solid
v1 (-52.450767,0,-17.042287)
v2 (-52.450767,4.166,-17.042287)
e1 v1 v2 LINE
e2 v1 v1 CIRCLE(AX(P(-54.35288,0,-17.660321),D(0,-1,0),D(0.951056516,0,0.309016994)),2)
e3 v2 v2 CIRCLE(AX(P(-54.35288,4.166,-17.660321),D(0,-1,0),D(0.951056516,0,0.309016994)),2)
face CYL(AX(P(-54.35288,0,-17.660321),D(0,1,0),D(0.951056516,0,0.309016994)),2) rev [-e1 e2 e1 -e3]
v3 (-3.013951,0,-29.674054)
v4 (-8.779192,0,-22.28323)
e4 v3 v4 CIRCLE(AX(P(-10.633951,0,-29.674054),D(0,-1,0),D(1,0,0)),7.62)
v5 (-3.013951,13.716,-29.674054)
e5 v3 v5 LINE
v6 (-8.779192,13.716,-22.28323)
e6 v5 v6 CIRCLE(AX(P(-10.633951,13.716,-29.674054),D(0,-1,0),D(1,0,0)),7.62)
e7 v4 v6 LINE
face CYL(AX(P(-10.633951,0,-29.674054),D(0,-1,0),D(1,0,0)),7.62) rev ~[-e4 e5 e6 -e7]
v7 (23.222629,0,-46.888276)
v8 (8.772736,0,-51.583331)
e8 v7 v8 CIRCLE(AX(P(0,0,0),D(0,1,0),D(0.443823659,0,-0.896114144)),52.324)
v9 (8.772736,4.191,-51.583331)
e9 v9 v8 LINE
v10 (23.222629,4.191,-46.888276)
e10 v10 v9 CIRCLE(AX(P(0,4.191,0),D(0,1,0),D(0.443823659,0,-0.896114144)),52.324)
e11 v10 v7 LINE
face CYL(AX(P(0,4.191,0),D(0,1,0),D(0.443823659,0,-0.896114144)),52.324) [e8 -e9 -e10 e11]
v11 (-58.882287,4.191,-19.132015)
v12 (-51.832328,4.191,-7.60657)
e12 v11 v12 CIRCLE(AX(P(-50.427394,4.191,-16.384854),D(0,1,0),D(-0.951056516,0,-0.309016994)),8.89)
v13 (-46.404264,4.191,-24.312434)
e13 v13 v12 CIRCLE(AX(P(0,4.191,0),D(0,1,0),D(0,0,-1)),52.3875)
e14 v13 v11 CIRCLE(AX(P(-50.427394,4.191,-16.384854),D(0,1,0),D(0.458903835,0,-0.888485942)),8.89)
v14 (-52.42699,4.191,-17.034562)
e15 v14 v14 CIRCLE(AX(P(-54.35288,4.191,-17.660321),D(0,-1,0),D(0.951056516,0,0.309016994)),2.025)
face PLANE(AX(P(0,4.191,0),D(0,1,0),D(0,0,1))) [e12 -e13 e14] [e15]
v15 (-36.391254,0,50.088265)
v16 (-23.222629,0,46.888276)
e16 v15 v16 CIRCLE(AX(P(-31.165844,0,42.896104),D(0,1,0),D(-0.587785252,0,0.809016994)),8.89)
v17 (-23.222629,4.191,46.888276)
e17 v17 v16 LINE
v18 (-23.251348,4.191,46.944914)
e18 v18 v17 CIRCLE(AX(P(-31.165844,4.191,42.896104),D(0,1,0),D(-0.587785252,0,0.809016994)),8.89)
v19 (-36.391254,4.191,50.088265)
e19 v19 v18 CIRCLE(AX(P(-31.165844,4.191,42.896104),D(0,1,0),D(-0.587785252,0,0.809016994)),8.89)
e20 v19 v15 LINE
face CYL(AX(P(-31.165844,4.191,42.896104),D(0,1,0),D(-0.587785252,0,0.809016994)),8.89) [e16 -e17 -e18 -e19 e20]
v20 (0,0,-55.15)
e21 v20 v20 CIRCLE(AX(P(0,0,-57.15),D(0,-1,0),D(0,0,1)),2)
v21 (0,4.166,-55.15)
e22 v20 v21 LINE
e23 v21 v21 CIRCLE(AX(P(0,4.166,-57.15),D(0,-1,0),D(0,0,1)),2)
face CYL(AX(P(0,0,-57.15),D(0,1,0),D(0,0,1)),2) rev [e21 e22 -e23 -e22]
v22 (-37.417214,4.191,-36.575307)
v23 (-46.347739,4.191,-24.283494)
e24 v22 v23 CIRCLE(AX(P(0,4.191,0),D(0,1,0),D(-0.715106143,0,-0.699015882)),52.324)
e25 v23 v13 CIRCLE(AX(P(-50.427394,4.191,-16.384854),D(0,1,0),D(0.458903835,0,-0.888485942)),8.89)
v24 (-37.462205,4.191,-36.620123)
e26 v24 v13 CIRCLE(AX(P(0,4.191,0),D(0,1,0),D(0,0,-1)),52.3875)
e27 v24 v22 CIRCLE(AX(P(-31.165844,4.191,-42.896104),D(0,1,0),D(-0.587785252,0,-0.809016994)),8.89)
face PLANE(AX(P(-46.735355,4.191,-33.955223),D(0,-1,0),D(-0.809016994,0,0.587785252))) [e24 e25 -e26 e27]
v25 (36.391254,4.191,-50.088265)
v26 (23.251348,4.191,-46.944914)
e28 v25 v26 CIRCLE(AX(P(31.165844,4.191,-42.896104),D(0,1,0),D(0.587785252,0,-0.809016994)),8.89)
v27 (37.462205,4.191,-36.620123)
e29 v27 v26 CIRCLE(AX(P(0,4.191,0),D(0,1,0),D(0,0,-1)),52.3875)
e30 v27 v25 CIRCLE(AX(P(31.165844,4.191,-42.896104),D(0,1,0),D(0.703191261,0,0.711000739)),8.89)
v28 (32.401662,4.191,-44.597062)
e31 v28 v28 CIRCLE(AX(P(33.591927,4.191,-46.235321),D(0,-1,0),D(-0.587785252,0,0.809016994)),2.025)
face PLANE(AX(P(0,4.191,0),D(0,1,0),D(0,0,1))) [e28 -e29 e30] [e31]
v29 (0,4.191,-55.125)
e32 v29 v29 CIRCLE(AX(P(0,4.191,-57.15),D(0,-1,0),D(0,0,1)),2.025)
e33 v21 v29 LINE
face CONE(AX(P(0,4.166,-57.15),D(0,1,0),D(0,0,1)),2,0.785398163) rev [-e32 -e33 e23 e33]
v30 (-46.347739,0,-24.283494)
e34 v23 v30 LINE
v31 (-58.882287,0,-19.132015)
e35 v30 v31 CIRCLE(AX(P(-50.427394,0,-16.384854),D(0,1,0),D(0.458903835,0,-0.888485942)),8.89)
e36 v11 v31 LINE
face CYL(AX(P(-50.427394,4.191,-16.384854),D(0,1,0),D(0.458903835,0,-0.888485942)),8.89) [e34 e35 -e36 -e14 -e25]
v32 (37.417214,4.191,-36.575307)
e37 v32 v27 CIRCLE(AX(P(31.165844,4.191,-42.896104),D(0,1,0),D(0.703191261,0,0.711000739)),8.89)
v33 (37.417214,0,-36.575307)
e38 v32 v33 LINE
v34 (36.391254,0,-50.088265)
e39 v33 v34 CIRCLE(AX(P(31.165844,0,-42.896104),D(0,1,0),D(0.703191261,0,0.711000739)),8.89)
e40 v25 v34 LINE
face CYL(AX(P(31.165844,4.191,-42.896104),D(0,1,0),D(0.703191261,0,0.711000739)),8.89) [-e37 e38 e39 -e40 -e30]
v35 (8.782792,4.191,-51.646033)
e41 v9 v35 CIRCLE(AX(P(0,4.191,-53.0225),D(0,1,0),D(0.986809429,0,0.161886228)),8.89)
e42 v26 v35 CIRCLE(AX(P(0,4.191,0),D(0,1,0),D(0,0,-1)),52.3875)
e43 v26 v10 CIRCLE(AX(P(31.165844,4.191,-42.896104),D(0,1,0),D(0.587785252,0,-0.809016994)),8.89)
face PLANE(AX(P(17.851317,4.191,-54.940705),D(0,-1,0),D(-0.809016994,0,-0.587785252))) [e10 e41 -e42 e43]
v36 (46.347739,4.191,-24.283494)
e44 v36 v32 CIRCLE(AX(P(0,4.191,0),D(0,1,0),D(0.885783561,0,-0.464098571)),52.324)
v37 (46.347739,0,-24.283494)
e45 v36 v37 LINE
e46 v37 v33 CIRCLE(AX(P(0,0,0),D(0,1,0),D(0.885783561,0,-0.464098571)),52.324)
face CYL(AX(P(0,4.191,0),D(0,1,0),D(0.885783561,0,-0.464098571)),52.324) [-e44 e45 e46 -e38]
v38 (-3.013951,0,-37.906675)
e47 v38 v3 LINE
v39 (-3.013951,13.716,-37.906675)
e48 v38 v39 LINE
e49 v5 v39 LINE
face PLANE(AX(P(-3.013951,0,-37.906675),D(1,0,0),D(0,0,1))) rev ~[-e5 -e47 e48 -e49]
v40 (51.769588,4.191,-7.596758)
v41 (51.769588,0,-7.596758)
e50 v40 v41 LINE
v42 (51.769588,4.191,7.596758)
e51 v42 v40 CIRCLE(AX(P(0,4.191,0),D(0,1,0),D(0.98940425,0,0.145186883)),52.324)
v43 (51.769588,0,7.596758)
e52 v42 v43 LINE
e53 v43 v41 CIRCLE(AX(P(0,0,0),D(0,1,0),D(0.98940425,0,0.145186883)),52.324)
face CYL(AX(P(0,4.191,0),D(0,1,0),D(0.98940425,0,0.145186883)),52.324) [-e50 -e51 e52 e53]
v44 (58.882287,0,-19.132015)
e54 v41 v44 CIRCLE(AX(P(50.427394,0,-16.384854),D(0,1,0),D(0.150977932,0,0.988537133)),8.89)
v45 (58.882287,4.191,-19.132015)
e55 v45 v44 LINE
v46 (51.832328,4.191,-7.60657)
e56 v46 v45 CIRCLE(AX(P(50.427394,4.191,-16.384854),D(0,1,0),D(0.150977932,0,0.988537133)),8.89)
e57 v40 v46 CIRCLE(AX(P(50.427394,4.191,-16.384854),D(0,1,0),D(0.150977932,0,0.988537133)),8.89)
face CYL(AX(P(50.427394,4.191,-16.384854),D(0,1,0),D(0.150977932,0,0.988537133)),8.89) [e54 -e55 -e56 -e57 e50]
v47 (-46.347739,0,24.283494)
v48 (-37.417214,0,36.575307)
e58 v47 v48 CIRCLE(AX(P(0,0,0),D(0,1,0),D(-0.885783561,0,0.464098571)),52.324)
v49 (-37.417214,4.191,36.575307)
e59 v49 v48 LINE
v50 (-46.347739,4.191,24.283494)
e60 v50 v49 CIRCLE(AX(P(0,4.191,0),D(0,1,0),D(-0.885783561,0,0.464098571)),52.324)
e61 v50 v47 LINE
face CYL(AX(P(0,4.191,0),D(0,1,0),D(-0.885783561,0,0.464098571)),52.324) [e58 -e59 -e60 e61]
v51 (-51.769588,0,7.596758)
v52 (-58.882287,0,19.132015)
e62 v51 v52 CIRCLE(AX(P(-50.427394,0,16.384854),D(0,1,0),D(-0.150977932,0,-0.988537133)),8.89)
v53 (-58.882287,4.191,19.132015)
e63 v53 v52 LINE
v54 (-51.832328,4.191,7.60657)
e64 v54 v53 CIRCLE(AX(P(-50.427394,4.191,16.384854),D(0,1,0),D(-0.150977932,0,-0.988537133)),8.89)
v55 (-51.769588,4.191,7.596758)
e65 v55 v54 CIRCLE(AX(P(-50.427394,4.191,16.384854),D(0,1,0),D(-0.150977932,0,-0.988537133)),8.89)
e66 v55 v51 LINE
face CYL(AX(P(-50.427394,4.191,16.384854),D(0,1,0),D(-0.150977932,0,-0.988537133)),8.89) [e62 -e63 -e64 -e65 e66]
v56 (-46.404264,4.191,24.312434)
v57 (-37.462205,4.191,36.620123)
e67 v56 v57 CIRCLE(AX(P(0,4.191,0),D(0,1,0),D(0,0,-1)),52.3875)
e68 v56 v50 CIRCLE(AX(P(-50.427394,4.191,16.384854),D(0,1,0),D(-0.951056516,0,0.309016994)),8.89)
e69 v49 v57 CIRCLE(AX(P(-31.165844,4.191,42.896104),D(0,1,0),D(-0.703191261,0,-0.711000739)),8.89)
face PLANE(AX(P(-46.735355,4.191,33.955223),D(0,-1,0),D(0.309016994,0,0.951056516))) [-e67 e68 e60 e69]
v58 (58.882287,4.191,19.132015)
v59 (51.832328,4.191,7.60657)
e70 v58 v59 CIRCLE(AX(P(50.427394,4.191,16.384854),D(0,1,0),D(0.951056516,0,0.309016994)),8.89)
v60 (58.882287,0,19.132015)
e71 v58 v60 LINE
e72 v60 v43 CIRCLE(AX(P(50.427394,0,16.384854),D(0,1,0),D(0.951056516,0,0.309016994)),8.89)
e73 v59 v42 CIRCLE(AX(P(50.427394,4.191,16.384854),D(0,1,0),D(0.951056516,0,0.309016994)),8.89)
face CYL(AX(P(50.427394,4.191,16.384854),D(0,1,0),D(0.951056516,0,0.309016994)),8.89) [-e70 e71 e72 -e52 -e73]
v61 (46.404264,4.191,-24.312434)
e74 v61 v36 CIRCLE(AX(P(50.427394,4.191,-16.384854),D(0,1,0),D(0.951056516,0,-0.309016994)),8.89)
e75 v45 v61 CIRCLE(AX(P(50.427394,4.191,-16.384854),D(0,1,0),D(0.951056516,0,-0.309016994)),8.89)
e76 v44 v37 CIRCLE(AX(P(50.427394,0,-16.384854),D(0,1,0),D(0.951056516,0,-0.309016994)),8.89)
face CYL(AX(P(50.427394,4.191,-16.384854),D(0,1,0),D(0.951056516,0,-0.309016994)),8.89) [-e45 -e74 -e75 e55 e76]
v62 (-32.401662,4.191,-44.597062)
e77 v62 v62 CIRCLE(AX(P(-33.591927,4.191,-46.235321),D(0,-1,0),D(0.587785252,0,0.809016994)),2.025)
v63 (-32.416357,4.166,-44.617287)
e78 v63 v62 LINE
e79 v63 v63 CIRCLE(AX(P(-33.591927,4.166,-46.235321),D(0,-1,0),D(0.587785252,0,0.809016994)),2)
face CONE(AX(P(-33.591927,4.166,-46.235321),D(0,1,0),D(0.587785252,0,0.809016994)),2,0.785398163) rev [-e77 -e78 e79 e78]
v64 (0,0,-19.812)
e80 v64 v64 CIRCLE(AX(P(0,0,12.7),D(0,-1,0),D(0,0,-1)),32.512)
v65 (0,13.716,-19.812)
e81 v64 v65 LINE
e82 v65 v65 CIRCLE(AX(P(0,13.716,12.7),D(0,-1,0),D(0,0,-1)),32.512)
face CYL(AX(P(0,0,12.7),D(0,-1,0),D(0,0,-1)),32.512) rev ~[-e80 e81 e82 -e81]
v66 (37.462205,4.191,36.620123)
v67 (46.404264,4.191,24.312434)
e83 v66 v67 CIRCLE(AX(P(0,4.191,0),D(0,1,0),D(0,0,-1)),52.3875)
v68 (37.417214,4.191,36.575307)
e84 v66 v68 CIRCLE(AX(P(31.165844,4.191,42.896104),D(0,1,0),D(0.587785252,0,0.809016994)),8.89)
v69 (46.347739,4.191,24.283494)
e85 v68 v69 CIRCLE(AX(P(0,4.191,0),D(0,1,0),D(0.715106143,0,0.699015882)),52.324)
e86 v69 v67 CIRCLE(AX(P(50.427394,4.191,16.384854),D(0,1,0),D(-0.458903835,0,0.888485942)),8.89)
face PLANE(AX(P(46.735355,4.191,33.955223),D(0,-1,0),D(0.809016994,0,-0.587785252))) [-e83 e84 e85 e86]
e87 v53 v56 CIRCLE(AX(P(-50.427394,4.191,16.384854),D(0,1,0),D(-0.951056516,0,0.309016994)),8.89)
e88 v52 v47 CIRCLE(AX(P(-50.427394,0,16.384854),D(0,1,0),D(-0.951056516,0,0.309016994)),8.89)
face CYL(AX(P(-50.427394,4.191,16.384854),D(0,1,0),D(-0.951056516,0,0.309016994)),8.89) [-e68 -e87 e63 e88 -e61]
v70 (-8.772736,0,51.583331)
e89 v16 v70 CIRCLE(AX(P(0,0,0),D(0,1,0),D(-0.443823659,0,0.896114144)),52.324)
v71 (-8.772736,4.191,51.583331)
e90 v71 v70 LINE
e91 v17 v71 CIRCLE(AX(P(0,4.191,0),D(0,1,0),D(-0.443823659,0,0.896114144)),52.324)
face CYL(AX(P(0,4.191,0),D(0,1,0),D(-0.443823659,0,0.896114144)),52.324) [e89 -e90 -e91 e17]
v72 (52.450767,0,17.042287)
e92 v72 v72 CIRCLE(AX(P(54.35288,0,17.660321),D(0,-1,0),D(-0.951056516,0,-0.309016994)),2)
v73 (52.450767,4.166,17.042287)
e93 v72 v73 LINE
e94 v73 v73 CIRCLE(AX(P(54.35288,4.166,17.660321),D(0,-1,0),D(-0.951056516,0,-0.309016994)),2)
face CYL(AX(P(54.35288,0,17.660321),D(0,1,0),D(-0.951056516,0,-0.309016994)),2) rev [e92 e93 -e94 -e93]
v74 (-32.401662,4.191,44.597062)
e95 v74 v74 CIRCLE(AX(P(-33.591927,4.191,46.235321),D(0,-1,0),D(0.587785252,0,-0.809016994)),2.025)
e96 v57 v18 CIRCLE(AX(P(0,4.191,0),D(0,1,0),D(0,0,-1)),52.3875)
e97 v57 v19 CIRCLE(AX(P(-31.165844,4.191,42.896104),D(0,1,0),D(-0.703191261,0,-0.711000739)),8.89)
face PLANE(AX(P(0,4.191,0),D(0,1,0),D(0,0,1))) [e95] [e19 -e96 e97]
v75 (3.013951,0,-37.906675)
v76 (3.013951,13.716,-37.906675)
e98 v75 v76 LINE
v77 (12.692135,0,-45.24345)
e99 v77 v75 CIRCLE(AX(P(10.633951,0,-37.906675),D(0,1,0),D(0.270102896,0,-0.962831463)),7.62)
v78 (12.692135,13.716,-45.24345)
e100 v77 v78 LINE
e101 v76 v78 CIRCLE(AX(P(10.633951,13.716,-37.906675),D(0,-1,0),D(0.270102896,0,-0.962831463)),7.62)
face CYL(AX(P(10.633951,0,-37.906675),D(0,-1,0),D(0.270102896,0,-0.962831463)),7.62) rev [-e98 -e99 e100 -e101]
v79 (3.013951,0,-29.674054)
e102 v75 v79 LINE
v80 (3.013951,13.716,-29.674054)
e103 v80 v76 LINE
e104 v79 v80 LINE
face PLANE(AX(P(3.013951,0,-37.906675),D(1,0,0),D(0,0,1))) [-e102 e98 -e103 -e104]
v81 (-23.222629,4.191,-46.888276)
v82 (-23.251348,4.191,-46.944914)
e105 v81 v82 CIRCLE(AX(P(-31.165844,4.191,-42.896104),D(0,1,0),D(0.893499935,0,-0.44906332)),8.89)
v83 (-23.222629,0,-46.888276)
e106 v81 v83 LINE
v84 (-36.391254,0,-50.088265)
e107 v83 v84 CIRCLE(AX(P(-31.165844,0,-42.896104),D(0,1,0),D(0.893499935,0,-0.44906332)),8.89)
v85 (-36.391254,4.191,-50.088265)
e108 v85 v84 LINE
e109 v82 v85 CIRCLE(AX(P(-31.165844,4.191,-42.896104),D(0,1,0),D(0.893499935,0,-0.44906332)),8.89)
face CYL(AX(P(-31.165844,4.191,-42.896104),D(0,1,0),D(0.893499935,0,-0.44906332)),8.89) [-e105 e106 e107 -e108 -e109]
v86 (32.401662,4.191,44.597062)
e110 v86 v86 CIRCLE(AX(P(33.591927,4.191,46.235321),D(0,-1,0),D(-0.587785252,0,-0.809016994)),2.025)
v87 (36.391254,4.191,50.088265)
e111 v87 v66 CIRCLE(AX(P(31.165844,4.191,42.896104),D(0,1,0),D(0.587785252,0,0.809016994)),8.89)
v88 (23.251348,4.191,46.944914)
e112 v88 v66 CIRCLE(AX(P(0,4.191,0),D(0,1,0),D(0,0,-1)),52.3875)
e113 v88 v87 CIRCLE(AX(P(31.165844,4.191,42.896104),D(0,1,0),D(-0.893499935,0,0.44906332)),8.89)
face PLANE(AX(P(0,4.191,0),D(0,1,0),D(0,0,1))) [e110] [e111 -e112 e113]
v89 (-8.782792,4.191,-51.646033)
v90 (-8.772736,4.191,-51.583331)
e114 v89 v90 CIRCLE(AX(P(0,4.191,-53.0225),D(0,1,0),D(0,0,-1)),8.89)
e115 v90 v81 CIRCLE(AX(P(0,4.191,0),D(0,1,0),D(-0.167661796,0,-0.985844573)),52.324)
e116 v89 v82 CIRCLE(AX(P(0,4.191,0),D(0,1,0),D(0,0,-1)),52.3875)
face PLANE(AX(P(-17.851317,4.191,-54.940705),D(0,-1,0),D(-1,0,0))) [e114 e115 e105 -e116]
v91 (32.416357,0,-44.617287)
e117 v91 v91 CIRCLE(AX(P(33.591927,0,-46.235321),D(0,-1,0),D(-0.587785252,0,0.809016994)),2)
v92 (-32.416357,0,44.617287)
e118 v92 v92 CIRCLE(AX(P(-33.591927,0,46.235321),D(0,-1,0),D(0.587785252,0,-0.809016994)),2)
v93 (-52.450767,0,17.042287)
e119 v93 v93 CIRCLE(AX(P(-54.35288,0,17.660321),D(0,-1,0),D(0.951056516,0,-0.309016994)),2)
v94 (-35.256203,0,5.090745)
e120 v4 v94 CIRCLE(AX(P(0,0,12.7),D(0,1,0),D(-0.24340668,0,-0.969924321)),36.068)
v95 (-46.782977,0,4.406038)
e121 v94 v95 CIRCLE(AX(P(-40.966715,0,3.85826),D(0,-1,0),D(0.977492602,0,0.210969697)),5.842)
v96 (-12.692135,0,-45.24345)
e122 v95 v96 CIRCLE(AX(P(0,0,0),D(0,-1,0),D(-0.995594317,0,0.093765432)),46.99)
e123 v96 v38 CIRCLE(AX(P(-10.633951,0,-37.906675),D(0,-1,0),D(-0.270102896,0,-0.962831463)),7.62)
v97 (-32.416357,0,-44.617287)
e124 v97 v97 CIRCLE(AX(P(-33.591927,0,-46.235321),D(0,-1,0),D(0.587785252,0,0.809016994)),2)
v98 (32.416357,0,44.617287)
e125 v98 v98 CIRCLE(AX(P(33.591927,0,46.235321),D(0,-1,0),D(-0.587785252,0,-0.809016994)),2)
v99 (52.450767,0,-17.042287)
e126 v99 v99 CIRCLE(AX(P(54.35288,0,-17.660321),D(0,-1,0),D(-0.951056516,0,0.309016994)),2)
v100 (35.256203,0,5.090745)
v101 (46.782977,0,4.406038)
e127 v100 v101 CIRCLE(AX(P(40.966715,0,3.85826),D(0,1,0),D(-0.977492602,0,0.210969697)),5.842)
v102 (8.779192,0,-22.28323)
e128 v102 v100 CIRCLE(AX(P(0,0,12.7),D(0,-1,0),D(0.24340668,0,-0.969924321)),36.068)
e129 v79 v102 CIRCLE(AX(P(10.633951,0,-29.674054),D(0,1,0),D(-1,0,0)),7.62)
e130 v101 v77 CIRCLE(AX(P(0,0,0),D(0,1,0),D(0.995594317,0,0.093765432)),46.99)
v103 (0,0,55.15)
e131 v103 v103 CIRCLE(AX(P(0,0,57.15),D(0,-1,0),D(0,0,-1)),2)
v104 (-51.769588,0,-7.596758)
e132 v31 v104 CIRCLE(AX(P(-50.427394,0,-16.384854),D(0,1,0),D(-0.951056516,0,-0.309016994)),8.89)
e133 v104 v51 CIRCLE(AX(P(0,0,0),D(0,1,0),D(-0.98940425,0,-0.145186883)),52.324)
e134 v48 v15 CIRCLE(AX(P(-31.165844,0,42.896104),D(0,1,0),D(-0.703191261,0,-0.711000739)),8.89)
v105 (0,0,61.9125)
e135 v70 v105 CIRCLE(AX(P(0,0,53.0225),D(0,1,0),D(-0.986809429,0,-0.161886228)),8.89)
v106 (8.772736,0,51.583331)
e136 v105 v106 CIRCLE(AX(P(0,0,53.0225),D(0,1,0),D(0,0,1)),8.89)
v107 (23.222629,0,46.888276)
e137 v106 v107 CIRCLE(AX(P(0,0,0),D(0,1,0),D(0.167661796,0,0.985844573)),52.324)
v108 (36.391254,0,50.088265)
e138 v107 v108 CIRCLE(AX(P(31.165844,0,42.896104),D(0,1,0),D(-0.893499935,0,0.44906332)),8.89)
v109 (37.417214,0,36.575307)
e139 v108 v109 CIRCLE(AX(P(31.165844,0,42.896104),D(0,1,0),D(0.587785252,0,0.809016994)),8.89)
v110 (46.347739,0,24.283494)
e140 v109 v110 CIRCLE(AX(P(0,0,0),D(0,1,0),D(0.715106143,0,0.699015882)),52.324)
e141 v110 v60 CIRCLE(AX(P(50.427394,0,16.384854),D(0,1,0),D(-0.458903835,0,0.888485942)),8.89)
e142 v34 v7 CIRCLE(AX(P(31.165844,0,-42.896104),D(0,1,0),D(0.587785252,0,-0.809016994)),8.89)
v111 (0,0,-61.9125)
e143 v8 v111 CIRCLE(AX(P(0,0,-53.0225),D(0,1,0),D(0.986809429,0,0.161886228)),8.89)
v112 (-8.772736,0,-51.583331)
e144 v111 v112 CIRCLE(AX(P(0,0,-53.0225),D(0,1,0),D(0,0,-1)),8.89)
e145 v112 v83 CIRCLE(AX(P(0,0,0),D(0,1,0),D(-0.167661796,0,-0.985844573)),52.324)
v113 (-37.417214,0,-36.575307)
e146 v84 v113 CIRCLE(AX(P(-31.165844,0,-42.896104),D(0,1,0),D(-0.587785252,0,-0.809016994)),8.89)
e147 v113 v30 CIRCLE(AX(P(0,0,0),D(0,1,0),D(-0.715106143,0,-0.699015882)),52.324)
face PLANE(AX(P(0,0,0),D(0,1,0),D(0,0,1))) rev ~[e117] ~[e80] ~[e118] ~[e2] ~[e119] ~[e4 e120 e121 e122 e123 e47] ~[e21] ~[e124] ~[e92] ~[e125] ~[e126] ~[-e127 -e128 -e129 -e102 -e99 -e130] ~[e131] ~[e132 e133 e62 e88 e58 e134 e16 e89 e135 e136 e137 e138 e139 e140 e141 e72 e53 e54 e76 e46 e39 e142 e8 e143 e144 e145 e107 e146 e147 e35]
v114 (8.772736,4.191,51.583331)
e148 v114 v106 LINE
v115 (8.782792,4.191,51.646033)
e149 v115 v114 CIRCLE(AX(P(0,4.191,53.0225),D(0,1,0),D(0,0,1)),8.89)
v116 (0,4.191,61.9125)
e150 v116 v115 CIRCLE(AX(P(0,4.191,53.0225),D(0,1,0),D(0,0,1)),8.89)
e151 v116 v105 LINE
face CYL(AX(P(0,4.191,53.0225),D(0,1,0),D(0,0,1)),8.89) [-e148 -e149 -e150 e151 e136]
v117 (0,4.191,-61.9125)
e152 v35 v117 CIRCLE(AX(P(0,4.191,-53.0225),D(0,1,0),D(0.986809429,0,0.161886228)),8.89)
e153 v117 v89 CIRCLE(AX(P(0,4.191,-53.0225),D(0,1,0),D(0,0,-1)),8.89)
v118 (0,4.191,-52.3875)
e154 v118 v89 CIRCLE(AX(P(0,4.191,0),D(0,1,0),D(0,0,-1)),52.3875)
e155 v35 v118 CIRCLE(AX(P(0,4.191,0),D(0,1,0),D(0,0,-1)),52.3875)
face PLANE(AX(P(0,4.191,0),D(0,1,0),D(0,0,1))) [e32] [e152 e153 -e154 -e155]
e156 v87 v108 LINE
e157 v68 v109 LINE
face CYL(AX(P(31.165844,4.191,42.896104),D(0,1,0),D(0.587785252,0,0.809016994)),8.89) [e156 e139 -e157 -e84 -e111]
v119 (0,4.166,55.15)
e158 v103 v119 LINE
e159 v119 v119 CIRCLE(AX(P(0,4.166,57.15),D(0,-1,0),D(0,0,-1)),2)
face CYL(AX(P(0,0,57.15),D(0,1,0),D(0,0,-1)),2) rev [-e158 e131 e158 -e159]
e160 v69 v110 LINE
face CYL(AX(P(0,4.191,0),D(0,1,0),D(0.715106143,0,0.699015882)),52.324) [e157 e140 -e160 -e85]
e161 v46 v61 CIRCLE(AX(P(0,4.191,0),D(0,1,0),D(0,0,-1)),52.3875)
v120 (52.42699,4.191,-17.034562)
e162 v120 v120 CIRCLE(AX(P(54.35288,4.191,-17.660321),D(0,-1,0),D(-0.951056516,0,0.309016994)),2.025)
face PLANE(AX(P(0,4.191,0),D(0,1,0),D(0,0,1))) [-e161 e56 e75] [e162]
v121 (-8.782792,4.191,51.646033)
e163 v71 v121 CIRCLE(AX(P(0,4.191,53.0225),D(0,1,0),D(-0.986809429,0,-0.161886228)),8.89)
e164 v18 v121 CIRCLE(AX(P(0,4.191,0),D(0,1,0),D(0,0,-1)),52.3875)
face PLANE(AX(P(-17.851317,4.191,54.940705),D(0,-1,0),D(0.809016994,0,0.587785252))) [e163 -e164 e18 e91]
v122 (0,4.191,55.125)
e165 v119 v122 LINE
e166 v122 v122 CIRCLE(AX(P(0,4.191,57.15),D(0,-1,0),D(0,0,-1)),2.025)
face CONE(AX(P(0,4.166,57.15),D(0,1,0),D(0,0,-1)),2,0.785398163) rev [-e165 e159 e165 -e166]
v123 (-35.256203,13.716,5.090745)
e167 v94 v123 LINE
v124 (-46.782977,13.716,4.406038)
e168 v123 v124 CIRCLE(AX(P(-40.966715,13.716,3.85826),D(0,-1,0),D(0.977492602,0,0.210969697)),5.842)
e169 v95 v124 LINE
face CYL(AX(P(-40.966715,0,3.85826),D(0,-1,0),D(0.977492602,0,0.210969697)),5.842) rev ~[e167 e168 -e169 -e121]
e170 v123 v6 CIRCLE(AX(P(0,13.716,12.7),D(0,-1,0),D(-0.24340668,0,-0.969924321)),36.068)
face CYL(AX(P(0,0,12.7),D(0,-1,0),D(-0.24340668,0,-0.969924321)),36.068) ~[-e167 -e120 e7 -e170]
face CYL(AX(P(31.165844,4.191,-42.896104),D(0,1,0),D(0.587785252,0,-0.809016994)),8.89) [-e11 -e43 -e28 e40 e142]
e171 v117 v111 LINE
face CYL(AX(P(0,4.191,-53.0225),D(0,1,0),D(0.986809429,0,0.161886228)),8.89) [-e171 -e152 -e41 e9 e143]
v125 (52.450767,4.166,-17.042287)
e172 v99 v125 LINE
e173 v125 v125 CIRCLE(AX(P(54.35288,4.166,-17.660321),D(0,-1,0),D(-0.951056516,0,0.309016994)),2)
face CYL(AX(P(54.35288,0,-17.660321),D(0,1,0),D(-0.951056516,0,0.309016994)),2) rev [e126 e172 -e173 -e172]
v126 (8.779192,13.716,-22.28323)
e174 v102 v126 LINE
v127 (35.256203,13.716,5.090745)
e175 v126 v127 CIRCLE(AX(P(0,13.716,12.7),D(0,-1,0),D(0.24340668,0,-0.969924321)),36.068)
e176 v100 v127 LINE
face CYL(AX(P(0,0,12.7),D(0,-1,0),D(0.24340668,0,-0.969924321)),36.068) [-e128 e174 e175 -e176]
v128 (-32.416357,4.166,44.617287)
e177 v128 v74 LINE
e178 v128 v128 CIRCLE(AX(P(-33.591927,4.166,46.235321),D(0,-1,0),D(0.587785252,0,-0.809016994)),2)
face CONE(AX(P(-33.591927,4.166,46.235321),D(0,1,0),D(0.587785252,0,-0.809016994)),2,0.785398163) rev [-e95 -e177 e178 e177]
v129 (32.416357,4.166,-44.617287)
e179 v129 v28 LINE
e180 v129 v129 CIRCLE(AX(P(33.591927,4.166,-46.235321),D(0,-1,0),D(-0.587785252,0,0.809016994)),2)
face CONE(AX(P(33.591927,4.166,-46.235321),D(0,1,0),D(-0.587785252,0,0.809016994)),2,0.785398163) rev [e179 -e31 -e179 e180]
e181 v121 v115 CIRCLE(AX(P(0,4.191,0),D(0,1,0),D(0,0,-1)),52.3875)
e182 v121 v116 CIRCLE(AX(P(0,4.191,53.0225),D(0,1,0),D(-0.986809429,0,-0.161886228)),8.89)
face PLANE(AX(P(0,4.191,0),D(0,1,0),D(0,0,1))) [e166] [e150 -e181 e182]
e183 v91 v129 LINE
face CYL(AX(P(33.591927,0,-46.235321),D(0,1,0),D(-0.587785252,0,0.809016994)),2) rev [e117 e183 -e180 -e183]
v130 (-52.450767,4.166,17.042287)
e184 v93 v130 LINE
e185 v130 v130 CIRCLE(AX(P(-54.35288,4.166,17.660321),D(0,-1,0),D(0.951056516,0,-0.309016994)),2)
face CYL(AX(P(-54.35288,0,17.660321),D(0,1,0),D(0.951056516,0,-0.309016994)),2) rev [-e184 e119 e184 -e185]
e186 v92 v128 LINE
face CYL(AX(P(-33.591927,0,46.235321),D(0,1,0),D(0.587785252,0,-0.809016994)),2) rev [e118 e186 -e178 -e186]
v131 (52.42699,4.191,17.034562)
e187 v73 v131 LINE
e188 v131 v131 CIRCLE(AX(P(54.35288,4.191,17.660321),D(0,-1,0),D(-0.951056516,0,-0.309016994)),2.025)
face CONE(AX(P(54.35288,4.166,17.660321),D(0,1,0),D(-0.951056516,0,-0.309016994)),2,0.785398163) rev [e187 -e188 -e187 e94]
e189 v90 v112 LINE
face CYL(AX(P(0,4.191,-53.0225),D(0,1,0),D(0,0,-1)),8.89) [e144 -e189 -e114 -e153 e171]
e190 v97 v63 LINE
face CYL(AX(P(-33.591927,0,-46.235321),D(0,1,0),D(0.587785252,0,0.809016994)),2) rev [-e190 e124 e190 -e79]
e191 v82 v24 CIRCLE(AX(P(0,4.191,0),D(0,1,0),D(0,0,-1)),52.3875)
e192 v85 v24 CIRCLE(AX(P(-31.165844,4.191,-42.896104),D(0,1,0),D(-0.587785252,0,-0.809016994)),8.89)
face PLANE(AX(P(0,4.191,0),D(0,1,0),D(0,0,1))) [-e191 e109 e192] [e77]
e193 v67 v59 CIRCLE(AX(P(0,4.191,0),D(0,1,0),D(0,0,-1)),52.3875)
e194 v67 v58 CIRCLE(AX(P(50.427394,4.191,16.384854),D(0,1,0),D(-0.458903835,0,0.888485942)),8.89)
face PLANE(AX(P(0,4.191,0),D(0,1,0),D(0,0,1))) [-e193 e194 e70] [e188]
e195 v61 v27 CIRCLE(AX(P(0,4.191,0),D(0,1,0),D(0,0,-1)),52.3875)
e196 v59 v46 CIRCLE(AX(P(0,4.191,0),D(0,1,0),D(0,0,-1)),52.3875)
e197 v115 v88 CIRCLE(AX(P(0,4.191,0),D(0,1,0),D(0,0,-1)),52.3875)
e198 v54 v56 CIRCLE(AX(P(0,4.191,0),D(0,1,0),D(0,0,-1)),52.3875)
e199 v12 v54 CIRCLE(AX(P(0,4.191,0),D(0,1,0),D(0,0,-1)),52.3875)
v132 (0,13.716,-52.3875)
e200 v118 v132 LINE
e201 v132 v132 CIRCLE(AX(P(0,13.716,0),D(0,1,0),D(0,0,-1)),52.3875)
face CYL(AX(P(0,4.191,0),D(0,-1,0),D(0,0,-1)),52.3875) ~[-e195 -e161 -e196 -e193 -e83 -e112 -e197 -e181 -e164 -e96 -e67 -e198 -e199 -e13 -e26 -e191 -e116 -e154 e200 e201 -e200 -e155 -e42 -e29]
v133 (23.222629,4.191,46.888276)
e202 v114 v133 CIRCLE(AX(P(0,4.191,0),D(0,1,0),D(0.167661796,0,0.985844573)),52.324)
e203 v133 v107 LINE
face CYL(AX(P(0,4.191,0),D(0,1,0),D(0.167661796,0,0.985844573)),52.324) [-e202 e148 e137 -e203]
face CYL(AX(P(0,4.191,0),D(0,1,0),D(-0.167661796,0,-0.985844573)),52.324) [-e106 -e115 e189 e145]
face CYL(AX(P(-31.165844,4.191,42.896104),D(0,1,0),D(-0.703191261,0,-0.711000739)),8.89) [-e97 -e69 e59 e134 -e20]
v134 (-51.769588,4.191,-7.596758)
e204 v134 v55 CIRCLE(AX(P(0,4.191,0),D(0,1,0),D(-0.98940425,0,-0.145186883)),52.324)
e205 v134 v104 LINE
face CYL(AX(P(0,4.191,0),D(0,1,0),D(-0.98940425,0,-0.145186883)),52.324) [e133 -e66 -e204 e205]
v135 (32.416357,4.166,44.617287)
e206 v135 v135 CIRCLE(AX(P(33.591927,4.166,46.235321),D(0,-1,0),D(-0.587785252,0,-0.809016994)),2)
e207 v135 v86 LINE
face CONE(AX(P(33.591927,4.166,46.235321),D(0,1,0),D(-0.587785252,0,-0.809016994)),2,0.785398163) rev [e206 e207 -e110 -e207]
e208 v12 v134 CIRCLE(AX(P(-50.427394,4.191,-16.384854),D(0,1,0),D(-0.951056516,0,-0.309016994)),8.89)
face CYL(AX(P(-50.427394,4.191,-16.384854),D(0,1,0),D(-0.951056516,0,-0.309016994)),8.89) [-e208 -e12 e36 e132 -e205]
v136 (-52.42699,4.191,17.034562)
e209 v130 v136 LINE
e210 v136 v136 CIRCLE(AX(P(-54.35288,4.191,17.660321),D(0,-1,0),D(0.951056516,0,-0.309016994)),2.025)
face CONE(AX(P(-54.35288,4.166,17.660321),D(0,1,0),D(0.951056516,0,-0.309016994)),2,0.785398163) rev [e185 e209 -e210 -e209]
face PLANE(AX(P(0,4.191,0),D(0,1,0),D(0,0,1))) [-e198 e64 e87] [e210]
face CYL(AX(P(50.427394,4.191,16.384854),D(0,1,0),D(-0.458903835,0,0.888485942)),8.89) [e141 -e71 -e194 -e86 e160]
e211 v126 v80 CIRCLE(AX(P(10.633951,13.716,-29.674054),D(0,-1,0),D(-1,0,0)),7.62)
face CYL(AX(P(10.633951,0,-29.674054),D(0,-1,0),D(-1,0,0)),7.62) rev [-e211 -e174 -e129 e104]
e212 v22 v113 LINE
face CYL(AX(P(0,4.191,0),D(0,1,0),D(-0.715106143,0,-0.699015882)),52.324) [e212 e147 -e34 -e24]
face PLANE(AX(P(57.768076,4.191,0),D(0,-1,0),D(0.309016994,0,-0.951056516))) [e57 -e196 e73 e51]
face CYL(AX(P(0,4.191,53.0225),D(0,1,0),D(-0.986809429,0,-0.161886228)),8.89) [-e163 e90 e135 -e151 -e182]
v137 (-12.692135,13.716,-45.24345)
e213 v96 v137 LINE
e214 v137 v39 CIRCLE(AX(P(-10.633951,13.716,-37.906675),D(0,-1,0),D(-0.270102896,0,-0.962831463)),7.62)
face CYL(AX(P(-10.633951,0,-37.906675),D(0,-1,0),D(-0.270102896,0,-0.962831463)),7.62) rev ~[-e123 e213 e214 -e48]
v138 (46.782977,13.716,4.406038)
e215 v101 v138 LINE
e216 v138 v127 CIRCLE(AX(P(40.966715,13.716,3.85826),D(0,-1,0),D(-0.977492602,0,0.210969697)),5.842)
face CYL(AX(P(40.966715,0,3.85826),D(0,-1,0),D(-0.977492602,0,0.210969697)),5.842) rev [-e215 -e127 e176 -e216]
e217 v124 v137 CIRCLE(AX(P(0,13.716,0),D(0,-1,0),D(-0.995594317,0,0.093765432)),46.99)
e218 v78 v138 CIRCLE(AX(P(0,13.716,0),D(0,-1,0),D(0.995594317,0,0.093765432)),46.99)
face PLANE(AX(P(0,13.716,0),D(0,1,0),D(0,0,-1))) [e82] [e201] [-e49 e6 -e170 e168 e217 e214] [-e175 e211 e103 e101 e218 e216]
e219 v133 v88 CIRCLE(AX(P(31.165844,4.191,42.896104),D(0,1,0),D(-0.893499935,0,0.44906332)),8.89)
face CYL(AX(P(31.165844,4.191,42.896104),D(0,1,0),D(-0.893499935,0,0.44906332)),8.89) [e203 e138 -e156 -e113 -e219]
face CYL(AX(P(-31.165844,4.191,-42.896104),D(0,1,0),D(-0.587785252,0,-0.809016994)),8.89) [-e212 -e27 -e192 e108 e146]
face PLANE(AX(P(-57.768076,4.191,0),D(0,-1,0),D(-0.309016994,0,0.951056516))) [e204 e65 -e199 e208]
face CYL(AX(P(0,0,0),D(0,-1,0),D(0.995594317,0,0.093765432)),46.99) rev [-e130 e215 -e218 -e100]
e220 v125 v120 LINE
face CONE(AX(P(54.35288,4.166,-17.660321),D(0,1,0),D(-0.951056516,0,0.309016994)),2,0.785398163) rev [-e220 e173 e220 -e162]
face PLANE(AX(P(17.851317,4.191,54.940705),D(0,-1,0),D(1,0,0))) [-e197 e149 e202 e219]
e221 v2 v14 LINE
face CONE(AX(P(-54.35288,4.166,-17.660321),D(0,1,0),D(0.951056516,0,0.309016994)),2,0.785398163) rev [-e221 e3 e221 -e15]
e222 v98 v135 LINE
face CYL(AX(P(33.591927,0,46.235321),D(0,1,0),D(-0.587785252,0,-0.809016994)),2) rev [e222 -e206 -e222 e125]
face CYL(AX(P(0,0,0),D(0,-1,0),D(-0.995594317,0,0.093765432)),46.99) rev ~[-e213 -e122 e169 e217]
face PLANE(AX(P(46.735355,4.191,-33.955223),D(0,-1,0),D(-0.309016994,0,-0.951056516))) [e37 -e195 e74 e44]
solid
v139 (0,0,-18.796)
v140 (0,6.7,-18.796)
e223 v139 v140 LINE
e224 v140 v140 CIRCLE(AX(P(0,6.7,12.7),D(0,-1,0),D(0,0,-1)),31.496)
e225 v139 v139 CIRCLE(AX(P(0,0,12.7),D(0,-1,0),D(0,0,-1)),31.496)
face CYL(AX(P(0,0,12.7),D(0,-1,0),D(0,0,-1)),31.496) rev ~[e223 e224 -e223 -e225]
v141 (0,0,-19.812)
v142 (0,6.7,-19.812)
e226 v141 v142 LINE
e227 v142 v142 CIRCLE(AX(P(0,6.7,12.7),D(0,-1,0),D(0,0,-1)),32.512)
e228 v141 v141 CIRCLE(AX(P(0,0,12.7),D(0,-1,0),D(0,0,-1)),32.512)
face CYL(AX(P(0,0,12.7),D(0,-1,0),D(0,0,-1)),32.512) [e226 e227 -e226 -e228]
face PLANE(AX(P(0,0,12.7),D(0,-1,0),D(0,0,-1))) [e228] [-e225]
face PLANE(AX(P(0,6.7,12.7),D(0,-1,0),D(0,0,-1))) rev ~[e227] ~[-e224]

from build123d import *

# Parameters (mm, degrees)
SKETCH1_R                  = 61.9125
SKETCH1_R_2                = 30.988
SLOTTED_BODY_EXTRUDE_DEPTH = 4.191
SKETCH5_R                  = 52.3875
BOSS_EXTRUDE3_DEPTH        = 9.525
SKETCH6_R                  = 32.512
CUT_EXTRUDE5_DEPTH         = 89.62530095
SKETCH8_R                  = 32.512
SKETCH8_R_2                = 31.496
BOSS_EXTRUDE4_DEPTH        = 6.700000062
CIRPATTERN1_COUNT          = 10
CUT_EXTRUDE9_DEPTH         = 89.074065067
CIRPATTERN6_COUNT          = 10


with BuildPart() as part:
    # Sketch1 → Slotted-Body Extrude (new body)
    with BuildSketch(Plane(origin=(0, 0, 0), x_dir=(1, 0, 0), z_dir=(0, 1, 0))):
        with Locations(Location((0, 0, 0), (0, 0, 270))):
            Circle(SKETCH1_R)
        with Locations(Location((0, -12.7, 0), (0, 0, 270))):
            Circle(SKETCH1_R_2, mode=Mode.SUBTRACT)
    extrude(amount=SLOTTED_BODY_EXTRUDE_DEPTH)

    # Sketch5 → Boss-Extrude3 (add)
    with BuildSketch(Plane(origin=(0, 4.191, 0), x_dir=(1, 0, 0), z_dir=(0, 1, 0))):
        with Locations(Location((0, 0, 0), (0, 0, 90))):
            Circle(SKETCH5_R)
    extrude(amount=BOSS_EXTRUDE3_DEPTH)

    # Sketch6 → Cut-Extrude5 (cut, through all)
    with BuildSketch(Plane.XZ):
        with Locations(Location((0, 12.7, 0), (0, 0, 270))):
            Circle(SKETCH6_R)
        with BuildLine():
            Line((3.013951015, -37.906674687), (3.013951015, -29.674053734))
            ThreePointArc((3.013951015, -29.674053734), (4.62572071, -24.987309811), (8.779192117, -22.283230408))
            ThreePointArc((8.779192117, -22.283230408), (25.925135322, -12.375645206), (35.256203169, 5.09074497))
            ThreePointArc((35.256203169, 5.09074497), (41.313127715, 9.689980346), (46.782976949, 4.406037654))
            ThreePointArc((46.782976949, 4.406037654), (38.737451576, -26.59830719), (12.692135082, -45.243450433))
            ThreePointArc((12.692135082, -45.243450433), (6.03063496, -43.979061474), (3.013951015, -37.906674687))
        make_face()
        with BuildLine():
            Line((-3.013951015, -37.906674687), (-3.013951015, -29.674053734))
            ThreePointArc((-3.013951015, -29.674053734), (-4.62572071, -24.987309811), (-8.779192117, -22.283230408))
            ThreePointArc((-8.779192117, -22.283230408), (-25.925135322, -12.375645206), (-35.256203169, 5.09074497))
            ThreePointArc((-35.256203169, 5.09074497), (-41.313127715, 9.689980346), (-46.782976949, 4.406037654))
            ThreePointArc((-46.782976949, 4.406037654), (-38.737451576, -26.59830719), (-12.692135082, -45.243450433))
            ThreePointArc((-12.692135082, -45.243450433), (-6.03063496, -43.979061474), (-3.013951015, -37.906674687))
        make_face()
    extrude(amount=-CUT_EXTRUDE5_DEPTH, mode=Mode.SUBTRACT)

    # Sketch10 → Ø4.0mm Dowel Hole2 (revolve, cut)
    with BuildSketch(Plane(origin=(0, 4.191, -57.15), x_dir=(0, 0, 1), z_dir=(1, 0, 0))):
        Polygon((0, 0), (0, 4.191), (2, 4.191), (2, 0.025), (2.025, 0), align=None)
    f_4_0mm_dowel_hole2 = revolve(axis=Axis((0, 10.541, -57.15), (0, -1, 0)), mode=Mode.SUBTRACT)

    # CirPattern1: Ø4.0mm Dowel Hole2 ×10 about axis
    cirpattern1_axis = Axis((0, 0, 0), (0, 1, 0))
    for i in range(1, CIRPATTERN1_COUNT):
        add(f_4_0mm_dowel_hole2.rotate(cirpattern1_axis, i * 360 / CIRPATTERN1_COUNT), mode=Mode.SUBTRACT)

    # Sketch15 → Cut-Extrude9 (cut, through all)
    with BuildSketch(Plane(origin=(0, 4.191, 0), x_dir=(1, 0, 0), z_dir=(0, 1, 0))):
        with BuildLine():
            ThreePointArc((-23.222629114, 46.888276499), (-29.066654393, 51.534709081), (-36.391254433, 50.088264664))
            ThreePointArc((-36.391254433, 50.088264664), (-19.132014664, 58.882286565), (0, 61.9125))
            ThreePointArc((0, 61.9125), (-6.775924606, 58.777406232), (-8.772735825, 51.583331437))
            ThreePointArc((-8.772735825, 51.583331437), (-16.169005214, 49.763081159), (-23.222629114, 46.888276499))
        make_face()
    cut_extrude9 = extrude(amount=-CUT_EXTRUDE9_DEPTH, mode=Mode.SUBTRACT)

    # CirPattern6: Cut-Extrude9 ×10 about axis
    cirpattern6_axis = Axis((0, 0, 0), (0, 1, 0))
    for i in range(1, CIRPATTERN6_COUNT):
        add(cut_extrude9.rotate(cirpattern6_axis, i * 360 / CIRPATTERN6_COUNT), mode=Mode.SUBTRACT)


with BuildPart() as body_2:
    # Sketch8 → Boss-Extrude4 (new body)
    with BuildSketch(Plane.XZ):
        with Locations(Location((0, 12.7, 0), (0, 0, 270))):
            Circle(SKETCH8_R)
        with Locations(Location((0, 12.7, 0), (0, 0, 270))):
            Circle(SKETCH8_R_2, mode=Mode.SUBTRACT)
    extrude(amount=-BOSS_EXTRUDE4_DEPTH)


solid = Compound([part.part, body_2.part])
